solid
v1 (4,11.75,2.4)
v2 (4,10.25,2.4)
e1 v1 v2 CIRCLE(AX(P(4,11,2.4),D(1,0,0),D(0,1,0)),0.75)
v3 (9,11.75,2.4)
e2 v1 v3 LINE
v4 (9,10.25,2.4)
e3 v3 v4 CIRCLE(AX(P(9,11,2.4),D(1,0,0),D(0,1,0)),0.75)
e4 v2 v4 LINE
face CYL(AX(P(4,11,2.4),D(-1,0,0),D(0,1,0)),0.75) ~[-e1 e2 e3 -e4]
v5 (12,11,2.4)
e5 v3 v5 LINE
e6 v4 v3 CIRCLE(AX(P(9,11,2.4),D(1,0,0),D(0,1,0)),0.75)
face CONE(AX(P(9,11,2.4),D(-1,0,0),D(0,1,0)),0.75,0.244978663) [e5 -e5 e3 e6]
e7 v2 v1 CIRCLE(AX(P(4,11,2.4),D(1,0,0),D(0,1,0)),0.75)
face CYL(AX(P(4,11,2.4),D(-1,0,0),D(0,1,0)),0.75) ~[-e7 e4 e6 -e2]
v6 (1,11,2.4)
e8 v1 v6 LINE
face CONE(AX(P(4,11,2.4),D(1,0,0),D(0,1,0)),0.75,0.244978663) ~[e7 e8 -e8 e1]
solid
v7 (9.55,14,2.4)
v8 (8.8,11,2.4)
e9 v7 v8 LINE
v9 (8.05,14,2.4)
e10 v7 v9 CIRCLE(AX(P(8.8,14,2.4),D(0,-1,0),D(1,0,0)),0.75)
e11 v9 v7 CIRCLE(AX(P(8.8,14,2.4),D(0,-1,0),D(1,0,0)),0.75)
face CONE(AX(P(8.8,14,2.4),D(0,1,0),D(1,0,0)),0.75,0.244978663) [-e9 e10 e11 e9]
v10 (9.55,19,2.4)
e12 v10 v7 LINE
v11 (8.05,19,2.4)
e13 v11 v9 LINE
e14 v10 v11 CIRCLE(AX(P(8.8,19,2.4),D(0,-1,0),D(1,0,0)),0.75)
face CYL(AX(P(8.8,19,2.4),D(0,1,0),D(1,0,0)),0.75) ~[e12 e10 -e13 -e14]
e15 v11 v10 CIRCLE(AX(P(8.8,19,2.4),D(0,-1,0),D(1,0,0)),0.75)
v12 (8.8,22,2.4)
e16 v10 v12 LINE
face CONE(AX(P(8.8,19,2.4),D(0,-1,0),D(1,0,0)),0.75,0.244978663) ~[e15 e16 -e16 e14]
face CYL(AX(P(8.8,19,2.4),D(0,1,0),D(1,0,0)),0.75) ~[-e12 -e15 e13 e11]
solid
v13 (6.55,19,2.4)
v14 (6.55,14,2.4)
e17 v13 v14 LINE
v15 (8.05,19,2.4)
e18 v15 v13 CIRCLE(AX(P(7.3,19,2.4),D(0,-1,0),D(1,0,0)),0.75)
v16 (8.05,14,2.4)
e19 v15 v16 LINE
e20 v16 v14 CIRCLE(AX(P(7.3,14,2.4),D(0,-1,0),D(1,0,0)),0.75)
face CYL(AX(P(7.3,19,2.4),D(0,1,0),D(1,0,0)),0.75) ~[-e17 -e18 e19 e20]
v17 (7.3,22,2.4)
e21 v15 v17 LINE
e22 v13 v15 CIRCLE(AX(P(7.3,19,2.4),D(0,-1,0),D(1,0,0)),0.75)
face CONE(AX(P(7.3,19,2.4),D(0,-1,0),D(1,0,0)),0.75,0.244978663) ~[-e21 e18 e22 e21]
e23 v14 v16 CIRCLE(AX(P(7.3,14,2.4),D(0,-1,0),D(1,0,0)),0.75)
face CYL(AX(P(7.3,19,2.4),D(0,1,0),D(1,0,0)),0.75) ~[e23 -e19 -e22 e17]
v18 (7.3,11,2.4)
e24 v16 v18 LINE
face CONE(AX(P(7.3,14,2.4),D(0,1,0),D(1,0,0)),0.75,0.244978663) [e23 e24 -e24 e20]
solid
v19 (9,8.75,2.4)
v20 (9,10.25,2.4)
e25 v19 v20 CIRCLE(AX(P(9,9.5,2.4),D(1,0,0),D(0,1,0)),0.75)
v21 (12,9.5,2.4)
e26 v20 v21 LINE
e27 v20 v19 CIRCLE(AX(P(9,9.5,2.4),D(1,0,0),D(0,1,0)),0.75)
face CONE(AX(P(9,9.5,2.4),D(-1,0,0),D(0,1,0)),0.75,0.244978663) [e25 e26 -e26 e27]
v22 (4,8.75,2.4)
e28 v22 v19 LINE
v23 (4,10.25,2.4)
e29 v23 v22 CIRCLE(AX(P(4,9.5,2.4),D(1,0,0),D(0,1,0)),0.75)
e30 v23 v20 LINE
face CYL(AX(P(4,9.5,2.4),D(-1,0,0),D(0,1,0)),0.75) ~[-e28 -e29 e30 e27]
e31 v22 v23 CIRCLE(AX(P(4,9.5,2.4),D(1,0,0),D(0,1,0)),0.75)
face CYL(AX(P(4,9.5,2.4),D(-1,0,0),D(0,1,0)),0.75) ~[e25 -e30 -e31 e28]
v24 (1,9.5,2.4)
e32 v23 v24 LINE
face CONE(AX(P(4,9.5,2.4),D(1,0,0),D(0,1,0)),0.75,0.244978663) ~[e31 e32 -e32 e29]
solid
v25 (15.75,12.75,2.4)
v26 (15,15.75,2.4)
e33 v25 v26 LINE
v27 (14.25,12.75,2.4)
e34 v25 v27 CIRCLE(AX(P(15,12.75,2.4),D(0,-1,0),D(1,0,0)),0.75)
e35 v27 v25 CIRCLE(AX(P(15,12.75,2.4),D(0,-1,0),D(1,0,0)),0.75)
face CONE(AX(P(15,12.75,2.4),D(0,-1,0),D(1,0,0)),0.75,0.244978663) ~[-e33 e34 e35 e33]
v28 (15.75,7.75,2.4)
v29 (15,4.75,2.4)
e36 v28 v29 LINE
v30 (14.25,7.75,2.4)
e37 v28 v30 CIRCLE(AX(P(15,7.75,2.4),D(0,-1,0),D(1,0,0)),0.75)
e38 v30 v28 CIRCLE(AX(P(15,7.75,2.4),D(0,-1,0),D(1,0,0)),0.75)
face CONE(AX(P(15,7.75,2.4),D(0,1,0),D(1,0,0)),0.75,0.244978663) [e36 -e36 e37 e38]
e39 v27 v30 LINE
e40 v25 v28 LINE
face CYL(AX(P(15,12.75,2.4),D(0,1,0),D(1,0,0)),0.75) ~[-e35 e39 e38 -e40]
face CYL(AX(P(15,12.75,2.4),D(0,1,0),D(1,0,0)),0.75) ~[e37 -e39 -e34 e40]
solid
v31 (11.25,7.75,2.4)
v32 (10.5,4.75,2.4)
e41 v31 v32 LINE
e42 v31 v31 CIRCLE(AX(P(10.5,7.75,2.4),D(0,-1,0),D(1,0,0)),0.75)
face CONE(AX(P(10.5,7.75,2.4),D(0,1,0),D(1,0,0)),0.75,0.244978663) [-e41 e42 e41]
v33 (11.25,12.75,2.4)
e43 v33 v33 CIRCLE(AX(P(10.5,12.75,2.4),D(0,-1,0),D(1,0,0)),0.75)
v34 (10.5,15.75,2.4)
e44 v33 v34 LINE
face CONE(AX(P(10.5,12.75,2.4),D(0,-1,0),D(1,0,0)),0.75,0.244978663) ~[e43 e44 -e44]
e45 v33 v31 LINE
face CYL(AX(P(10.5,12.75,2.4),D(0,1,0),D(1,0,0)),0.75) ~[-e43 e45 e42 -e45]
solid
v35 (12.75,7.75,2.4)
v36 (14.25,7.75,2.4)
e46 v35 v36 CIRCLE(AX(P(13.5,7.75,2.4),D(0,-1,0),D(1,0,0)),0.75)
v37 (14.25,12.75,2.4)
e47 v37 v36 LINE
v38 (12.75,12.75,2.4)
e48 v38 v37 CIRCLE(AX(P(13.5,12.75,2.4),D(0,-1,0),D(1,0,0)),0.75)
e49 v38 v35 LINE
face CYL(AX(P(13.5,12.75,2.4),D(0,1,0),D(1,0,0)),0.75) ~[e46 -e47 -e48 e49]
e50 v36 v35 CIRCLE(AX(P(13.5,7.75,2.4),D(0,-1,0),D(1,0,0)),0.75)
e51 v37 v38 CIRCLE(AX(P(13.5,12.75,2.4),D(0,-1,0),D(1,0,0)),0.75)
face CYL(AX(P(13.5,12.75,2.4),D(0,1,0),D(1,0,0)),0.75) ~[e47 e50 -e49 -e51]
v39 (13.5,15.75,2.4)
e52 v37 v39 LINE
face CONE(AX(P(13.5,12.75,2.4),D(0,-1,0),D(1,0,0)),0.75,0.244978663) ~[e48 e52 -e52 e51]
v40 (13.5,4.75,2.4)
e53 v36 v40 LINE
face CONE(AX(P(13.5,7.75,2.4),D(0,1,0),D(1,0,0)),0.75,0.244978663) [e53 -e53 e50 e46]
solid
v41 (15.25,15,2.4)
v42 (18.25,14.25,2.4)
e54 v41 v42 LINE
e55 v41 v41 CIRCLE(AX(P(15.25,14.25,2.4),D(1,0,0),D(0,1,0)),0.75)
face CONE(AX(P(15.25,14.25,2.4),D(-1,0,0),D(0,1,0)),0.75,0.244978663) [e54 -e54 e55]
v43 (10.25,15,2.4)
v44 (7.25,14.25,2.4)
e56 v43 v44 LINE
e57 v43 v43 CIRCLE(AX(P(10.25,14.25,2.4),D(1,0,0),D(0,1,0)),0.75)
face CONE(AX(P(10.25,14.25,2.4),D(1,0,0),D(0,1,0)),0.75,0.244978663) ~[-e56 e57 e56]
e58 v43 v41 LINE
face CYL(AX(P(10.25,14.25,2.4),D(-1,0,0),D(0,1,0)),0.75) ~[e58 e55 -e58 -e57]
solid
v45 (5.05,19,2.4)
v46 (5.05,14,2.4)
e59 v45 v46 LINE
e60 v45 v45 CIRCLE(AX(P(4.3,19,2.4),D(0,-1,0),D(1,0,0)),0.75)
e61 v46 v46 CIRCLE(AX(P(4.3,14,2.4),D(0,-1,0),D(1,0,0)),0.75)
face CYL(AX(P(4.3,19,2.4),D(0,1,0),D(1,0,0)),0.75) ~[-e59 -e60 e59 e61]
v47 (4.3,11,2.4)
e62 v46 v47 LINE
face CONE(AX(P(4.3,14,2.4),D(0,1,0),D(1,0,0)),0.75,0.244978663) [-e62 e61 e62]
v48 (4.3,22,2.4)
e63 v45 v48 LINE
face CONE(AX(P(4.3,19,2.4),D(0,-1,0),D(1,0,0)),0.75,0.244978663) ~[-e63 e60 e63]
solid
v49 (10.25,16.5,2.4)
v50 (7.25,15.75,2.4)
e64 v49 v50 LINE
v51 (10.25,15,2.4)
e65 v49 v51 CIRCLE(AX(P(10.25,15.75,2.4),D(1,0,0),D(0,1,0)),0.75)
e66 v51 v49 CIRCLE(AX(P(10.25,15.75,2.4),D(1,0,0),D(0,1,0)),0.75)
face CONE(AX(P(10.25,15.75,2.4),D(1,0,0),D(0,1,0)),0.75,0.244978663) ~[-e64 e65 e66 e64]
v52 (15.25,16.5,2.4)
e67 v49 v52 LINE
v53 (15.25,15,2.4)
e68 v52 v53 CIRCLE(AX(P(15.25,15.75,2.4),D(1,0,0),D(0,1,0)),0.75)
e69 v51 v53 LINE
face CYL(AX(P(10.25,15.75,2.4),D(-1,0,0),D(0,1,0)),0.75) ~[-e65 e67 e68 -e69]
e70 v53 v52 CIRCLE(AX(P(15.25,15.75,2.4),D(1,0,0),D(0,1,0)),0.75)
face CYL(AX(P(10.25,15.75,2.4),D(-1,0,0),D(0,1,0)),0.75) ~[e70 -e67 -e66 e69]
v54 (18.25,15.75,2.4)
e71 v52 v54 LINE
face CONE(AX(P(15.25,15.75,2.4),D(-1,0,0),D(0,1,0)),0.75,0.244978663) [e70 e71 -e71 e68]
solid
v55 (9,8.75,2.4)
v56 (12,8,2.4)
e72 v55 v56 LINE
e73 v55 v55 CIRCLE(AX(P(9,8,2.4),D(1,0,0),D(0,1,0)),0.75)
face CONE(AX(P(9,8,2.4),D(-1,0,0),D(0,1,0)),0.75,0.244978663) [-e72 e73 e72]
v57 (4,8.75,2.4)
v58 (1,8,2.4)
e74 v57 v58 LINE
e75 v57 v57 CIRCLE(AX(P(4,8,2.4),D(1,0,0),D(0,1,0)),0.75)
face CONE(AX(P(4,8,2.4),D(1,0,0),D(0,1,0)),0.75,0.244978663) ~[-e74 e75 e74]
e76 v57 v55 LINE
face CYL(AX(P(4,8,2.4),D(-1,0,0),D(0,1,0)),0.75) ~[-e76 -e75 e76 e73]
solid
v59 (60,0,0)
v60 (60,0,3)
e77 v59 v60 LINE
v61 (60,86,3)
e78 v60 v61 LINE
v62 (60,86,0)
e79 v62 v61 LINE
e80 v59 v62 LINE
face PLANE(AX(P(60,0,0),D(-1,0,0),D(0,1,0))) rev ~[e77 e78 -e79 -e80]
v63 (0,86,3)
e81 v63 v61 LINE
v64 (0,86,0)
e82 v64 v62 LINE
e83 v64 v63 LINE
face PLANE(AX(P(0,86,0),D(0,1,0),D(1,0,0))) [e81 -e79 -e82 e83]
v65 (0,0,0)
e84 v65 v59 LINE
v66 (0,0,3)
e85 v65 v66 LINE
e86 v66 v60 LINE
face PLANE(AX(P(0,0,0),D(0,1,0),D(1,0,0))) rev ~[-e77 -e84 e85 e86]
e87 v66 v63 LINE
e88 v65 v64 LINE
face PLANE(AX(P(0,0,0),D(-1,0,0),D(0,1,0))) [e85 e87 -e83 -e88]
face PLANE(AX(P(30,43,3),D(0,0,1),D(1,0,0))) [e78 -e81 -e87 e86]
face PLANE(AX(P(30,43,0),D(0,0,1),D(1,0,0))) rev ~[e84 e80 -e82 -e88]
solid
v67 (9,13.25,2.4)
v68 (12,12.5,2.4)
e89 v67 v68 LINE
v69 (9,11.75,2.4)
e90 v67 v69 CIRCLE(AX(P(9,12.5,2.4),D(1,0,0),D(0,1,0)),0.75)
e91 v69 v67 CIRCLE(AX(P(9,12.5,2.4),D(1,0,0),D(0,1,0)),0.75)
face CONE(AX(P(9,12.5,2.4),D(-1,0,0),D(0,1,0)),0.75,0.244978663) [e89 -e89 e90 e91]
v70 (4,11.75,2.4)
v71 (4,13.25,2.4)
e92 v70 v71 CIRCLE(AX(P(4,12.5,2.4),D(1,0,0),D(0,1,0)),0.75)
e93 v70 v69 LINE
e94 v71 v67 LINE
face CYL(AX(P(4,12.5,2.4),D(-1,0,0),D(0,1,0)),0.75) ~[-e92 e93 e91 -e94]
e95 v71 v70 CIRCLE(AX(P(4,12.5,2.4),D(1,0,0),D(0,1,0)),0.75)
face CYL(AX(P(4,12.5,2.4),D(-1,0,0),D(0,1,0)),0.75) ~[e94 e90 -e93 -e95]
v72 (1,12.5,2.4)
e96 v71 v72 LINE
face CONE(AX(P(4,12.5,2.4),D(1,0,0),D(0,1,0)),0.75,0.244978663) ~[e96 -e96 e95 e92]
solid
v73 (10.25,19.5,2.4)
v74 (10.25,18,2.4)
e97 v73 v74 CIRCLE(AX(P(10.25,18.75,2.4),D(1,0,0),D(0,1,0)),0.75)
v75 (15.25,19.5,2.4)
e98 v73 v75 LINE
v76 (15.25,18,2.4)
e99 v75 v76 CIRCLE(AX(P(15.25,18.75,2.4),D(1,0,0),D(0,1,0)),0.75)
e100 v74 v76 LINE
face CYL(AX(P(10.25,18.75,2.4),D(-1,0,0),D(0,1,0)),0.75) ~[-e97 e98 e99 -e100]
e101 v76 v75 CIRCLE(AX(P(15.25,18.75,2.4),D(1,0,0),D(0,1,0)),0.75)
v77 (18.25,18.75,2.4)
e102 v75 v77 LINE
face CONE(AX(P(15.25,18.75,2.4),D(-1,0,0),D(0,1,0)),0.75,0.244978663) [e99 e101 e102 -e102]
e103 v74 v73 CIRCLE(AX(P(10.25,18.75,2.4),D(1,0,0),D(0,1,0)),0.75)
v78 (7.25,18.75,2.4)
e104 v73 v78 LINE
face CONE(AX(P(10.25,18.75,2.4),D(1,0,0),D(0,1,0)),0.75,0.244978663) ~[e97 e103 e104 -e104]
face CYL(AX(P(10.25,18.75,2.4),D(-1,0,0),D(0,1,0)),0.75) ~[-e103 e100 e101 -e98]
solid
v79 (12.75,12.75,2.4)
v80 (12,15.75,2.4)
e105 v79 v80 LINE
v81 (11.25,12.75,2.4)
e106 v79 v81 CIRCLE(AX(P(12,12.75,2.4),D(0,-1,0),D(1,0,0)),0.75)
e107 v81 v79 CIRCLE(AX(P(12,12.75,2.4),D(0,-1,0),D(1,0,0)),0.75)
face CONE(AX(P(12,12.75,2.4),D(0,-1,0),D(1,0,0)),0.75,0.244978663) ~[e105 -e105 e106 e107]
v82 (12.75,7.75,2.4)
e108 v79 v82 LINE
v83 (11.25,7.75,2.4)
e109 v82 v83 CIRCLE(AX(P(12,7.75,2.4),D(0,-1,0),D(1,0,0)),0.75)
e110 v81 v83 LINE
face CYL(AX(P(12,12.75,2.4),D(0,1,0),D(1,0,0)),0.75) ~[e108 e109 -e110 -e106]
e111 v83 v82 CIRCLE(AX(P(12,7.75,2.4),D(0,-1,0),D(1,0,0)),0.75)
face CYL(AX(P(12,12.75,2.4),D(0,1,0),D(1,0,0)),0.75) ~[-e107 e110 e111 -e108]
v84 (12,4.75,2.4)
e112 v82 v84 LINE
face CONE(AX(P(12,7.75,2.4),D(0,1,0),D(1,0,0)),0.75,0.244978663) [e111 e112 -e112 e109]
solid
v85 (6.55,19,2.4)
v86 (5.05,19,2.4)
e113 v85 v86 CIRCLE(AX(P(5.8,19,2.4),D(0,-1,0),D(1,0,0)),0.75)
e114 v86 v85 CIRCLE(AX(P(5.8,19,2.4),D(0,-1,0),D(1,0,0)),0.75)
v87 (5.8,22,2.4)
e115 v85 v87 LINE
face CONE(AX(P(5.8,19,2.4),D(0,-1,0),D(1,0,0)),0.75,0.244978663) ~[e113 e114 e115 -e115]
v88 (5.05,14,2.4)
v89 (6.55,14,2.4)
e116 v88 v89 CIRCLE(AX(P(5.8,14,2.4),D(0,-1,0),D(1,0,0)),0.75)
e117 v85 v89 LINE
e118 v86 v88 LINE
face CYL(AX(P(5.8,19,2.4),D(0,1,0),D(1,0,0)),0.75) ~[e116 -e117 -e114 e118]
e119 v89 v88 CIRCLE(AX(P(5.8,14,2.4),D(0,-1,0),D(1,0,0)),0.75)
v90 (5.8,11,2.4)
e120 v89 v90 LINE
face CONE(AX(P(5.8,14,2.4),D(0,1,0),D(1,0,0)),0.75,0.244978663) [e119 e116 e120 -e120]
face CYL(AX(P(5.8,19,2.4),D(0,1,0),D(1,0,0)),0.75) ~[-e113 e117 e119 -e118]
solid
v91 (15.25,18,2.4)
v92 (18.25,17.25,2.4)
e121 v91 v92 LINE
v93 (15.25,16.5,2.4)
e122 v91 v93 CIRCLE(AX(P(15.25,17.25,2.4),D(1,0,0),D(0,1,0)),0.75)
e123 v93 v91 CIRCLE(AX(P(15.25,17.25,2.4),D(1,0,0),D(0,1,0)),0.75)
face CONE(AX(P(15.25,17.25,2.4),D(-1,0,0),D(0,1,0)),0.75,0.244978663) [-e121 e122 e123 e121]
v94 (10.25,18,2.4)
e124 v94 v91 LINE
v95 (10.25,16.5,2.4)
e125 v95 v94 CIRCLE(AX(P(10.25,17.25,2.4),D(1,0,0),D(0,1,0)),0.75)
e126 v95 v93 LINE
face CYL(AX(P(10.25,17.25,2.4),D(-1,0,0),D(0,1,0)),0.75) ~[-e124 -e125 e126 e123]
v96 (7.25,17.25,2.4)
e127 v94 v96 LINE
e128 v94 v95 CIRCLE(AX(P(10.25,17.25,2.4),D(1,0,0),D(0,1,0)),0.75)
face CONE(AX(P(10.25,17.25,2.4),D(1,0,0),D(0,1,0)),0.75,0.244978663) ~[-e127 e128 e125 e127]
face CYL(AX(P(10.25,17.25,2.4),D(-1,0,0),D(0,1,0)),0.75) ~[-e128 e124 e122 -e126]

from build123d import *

# Parameters (mm, degrees)
BOX_W                     = 60
BOX_H                     = 86
BOX_DEPTH                 = 3
CYLINDER001_R             = 0.75
CYLINDER001_DEPTH         = 5
FUSION001_ROLL_ANGLE      = 90
CYLINDER002_R             = 0.75
CYLINDER002_DEPTH         = 5
FUSION002_ROLL_ANGLE      = 90
CYLINDER003_R             = 0.75
CYLINDER003_DEPTH         = 5
FUSION003_ROLL_ANGLE      = 90
CYLINDER_R                = 0.75
CYLINDER_DEPTH            = 5
FUSION_ROLL_ANGLE         = 90
FUSION007_ROLL_ANGLE      = 90
FUSION008_ROLL_ANGLE      = 90
FUSION006_ROLL_ANGLE      = 90
FUSION009_ROLL_ANGLE      = 90
FUSION012_ROLL_ANGLE      = 90
FUSION013_ROLL_ANGLE      = 90
FUSION011_ROLL_ANGLE      = 90
FUSION014_ROLL_ANGLE      = 90
FUSION010_PLACEMENT_ANGLE = 90
FUSION018_ROLL_ANGLE      = 90
FUSION017_ROLL_ANGLE      = 90
FUSION016_ROLL_ANGLE      = 90
FUSION019_ROLL_ANGLE      = 90
FUSION015_PLACEMENT_ANGLE = 90


with BuildPart() as box:
    # Box → Box (new body)
    with BuildSketch(Plane.XY):
        with Locations((30, 43)):
            Rectangle(BOX_W, BOX_H)
    extrude(amount=BOX_DEPTH)


with BuildPart() as cone:
    # Cone → Cone (revolve)
    with BuildSketch(Plane(origin=(0, 0, 4), x_dir=(1, 0, 0), z_dir=(0, -1, 0))):
        Polygon((0, 0), (0.75, 0), (0, 3), align=None)
    revolve(axis=Axis((0, 0, 4), (0, 0, 1)))


with BuildPart() as part_mirroring001:
    # Part__Mirroring001: instance of Cone
    add(cone.part.mirror(Plane(origin=(0, 0, 0), x_dir=(0, 1, 0), z_dir=(0, 0, 1))))


with BuildPart() as part_mirroring001_1:
    # Part__Mirroring001 placement: moved
    add(part_mirroring001.part.moved(Location((0, 0, 4))))


with BuildPart() as cone002:
    # Cone002 → Cone002 (revolve)
    with BuildSketch(Plane(origin=(0, 0, 5), x_dir=(1, 0, 0), z_dir=(0, -1, 0))):
        Polygon((0, 0), (0.75, 0), (0, 3), align=None)
    revolve(axis=Axis((0, 0, 5), (0, 0, 1)))


with BuildPart() as cylinder001:
    # Cylinder001 → Cylinder001 (new body)
    with BuildSketch(Plane.XY):
        Circle(CYLINDER001_R)
    extrude(amount=CYLINDER001_DEPTH)


with BuildPart() as fusion001:
    # Fusion001 base: copy of Cylinder001
    add(cylinder001.part)

    # Fusion001: union Part__Mirroring001, Cone002
    add(part_mirroring001_1.part)
    add(cone002.part)


with BuildPart() as fusion001_1:
    # Fusion001 roll: moved
    add(fusion001.part.rotate(Axis((0, 0, 0), (1, 0, 0)), FUSION001_ROLL_ANGLE))


with BuildPart() as fusion001_2:
    # Fusion001 placement: moved
    add(fusion001_1.part.moved(Location((10.5, 16, 2.4))))


with BuildPart() as part_mirroring002:
    # Part__Mirroring002: instance of Cone
    add(cone.part.mirror(Plane(origin=(0, 0, 0), x_dir=(0, 1, 0), z_dir=(0, 0, 1))))


with BuildPart() as part_mirroring002_1:
    # Part__Mirroring002 placement: moved
    add(part_mirroring002.part.moved(Location((0, 0, 4))))


with BuildPart() as cone003:
    # Cone003 → Cone003 (revolve)
    with BuildSketch(Plane(origin=(0, 0, 5), x_dir=(1, 0, 0), z_dir=(0, -1, 0))):
        Polygon((0, 0), (0.75, 0), (0, 3), align=None)
    revolve(axis=Axis((0, 0, 5), (0, 0, 1)))


with BuildPart() as cylinder002:
    # Cylinder002 → Cylinder002 (new body)
    with BuildSketch(Plane.XY):
        Circle(CYLINDER002_R)
    extrude(amount=CYLINDER002_DEPTH)


with BuildPart() as fusion002:
    # Fusion002 base: copy of Cylinder002
    add(cylinder002.part)

    # Fusion002: union Part__Mirroring002, Cone003
    add(part_mirroring002_1.part)
    add(cone003.part)


with BuildPart() as fusion002_1:
    # Fusion002 roll: moved
    add(fusion002.part.rotate(Axis((0, 0, 0), (1, 0, 0)), FUSION002_ROLL_ANGLE))


with BuildPart() as fusion002_2:
    # Fusion002 placement: moved
    add(fusion002_1.part.moved(Location((12, 16, 2.4))))


with BuildPart() as part_mirroring003:
    # Part__Mirroring003: instance of Cone
    add(cone.part.mirror(Plane(origin=(0, 0, 0), x_dir=(0, 1, 0), z_dir=(0, 0, 1))))


with BuildPart() as part_mirroring003_1:
    # Part__Mirroring003 placement: moved
    add(part_mirroring003.part.moved(Location((0, 0, 4))))


with BuildPart() as cone004:
    # Cone004 → Cone004 (revolve)
    with BuildSketch(Plane(origin=(0, 0, 5), x_dir=(1, 0, 0), z_dir=(0, -1, 0))):
        Polygon((0, 0), (0.75, 0), (0, 3), align=None)
    revolve(axis=Axis((0, 0, 5), (0, 0, 1)))


with BuildPart() as cylinder003:
    # Cylinder003 → Cylinder003 (new body)
    with BuildSketch(Plane.XY):
        Circle(CYLINDER003_R)
    extrude(amount=CYLINDER003_DEPTH)


with BuildPart() as fusion003:
    # Fusion003 base: copy of Cylinder003
    add(cylinder003.part)

    # Fusion003: union Part__Mirroring003, Cone004
    add(part_mirroring003_1.part)
    add(cone004.part)


with BuildPart() as fusion003_1:
    # Fusion003 roll: moved
    add(fusion003.part.rotate(Axis((0, 0, 0), (1, 0, 0)), FUSION003_ROLL_ANGLE))


with BuildPart() as fusion003_2:
    # Fusion003 placement: moved
    add(fusion003_1.part.moved(Location((13.5, 16, 2.4))))


with BuildPart() as part_mirroring:
    # Part__Mirroring: instance of Cone
    add(cone.part.mirror(Plane(origin=(0, 0, 0), x_dir=(0, 1, 0), z_dir=(0, 0, 1))))


with BuildPart() as part_mirroring_1:
    # Part__Mirroring placement: moved
    add(part_mirroring.part.moved(Location((0, 0, 4))))


with BuildPart() as cone001:
    # Cone001 → Cone001 (revolve)
    with BuildSketch(Plane(origin=(0, 0, 5), x_dir=(1, 0, 0), z_dir=(0, -1, 0))):
        Polygon((0, 0), (0.75, 0), (0, 3), align=None)
    revolve(axis=Axis((0, 0, 5), (0, 0, 1)))


with BuildPart() as cylinder:
    # Cylinder → Cylinder (new body)
    with BuildSketch(Plane.XY):
        Circle(CYLINDER_R)
    extrude(amount=CYLINDER_DEPTH)


with BuildPart() as fusion004:
    # Fusion base: copy of Cylinder
    add(cylinder.part)

    # Fusion: union Part__Mirroring, Cone001
    add(part_mirroring_1.part)
    add(cone001.part)


with BuildPart() as fusion004_1:
    # Fusion roll: moved
    add(fusion004.part.rotate(Axis((0, 0, 0), (1, 0, 0)), FUSION_ROLL_ANGLE))


with BuildPart() as fusion004_2:
    # Fusion placement: moved
    add(fusion004_1.part.moved(Location((9, 16, 2.4))))

    # Fusion004: union Fusion001, Fusion002, Fusion003
    add(fusion001_2.part)
    add(fusion002_2.part)
    add(fusion003_2.part)


with BuildPart() as fusion004_3:
    # Fusion004 placement: moved
    add(fusion004_2.part.moved(Location((1.5, -3.25, 0))))


with BuildPart() as fusion007:
    # Fusion007 base: copy of Cylinder001
    add(cylinder001.part)

    # Fusion007: union Part__Mirroring001, Cone002
    add(part_mirroring001_1.part)
    add(cone002.part)


with BuildPart() as fusion007_1:
    # Fusion007 roll: moved
    add(fusion007.part.rotate(Axis((0, 0, 0), (1, 0, 0)), FUSION007_ROLL_ANGLE))


with BuildPart() as fusion007_2:
    # Fusion007 placement: moved
    add(fusion007_1.part.moved(Location((10.5, 16, 2.4))))


with BuildPart() as fusion008:
    # Fusion008 base: copy of Cylinder002
    add(cylinder002.part)

    # Fusion008: union Part__Mirroring002, Cone003
    add(part_mirroring002_1.part)
    add(cone003.part)


with BuildPart() as fusion008_1:
    # Fusion008 roll: moved
    add(fusion008.part.rotate(Axis((0, 0, 0), (1, 0, 0)), FUSION008_ROLL_ANGLE))


with BuildPart() as fusion008_2:
    # Fusion008 placement: moved
    add(fusion008_1.part.moved(Location((12, 16, 2.4))))


with BuildPart() as fusion006:
    # Fusion006 base: copy of Cylinder003
    add(cylinder003.part)

    # Fusion006: union Part__Mirroring003, Cone004
    add(part_mirroring003_1.part)
    add(cone004.part)


with BuildPart() as fusion006_1:
    # Fusion006 roll: moved
    add(fusion006.part.rotate(Axis((0, 0, 0), (1, 0, 0)), FUSION006_ROLL_ANGLE))


with BuildPart() as fusion006_2:
    # Fusion006 placement: moved
    add(fusion006_1.part.moved(Location((13.5, 16, 2.4))))


with BuildPart() as fusion005:
    # Fusion009 base: copy of Cylinder
    add(cylinder.part)

    # Fusion009: union Part__Mirroring, Cone001
    add(part_mirroring_1.part)
    add(cone001.part)


with BuildPart() as fusion005_1:
    # Fusion009 roll: moved
    add(fusion005.part.rotate(Axis((0, 0, 0), (1, 0, 0)), FUSION009_ROLL_ANGLE))


with BuildPart() as fusion005_2:
    # Fusion009 placement: moved
    add(fusion005_1.part.moved(Location((9, 16, 2.4))))

    # Fusion005: union Fusion007, Fusion008, Fusion006
    add(fusion007_2.part)
    add(fusion008_2.part)
    add(fusion006_2.part)


with BuildPart() as fusion005_3:
    # Fusion005 placement: moved
    add(fusion005_2.part.moved(Location((-4.7, 3, 0))))


with BuildPart() as fusion012:
    # Fusion012 base: copy of Cylinder001
    add(cylinder001.part)

    # Fusion012: union Part__Mirroring001, Cone002
    add(part_mirroring001_1.part)
    add(cone002.part)


with BuildPart() as fusion012_1:
    # Fusion012 roll: moved
    add(fusion012.part.rotate(Axis((0, 0, 0), (1, 0, 0)), FUSION012_ROLL_ANGLE))


with BuildPart() as fusion012_2:
    # Fusion012 placement: moved
    add(fusion012_1.part.moved(Location((10.5, 16, 2.4))))


with BuildPart() as fusion013:
    # Fusion013 base: copy of Cylinder002
    add(cylinder002.part)

    # Fusion013: union Part__Mirroring002, Cone003
    add(part_mirroring002_1.part)
    add(cone003.part)


with BuildPart() as fusion013_1:
    # Fusion013 roll: moved
    add(fusion013.part.rotate(Axis((0, 0, 0), (1, 0, 0)), FUSION013_ROLL_ANGLE))


with BuildPart() as fusion013_2:
    # Fusion013 placement: moved
    add(fusion013_1.part.moved(Location((12, 16, 2.4))))


with BuildPart() as fusion011:
    # Fusion011 base: copy of Cylinder003
    add(cylinder003.part)

    # Fusion011: union Part__Mirroring003, Cone004
    add(part_mirroring003_1.part)
    add(cone004.part)


with BuildPart() as fusion011_1:
    # Fusion011 roll: moved
    add(fusion011.part.rotate(Axis((0, 0, 0), (1, 0, 0)), FUSION011_ROLL_ANGLE))


with BuildPart() as fusion011_2:
    # Fusion011 placement: moved
    add(fusion011_1.part.moved(Location((13.5, 16, 2.4))))


with BuildPart() as fusion010:
    # Fusion014 base: copy of Cylinder
    add(cylinder.part)

    # Fusion014: union Part__Mirroring, Cone001
    add(part_mirroring_1.part)
    add(cone001.part)


with BuildPart() as fusion010_1:
    # Fusion014 roll: moved
    add(fusion010.part.rotate(Axis((0, 0, 0), (1, 0, 0)), FUSION014_ROLL_ANGLE))


with BuildPart() as fusion010_2:
    # Fusion014 placement: moved
    add(fusion010_1.part.moved(Location((9, 16, 2.4))))

    # Fusion010: union Fusion012, Fusion013, Fusion011
    add(fusion012_2.part)
    add(fusion013_2.part)
    add(fusion011_2.part)


with BuildPart() as fusion010_3:
    # Fusion010 placement: moved
    add(fusion010_2.part.moved(Location((20, -1, 0))).rotate(Axis((20, -1, 0), (0, 0, 1)), FUSION010_PLACEMENT_ANGLE))


with BuildPart() as fusion018:
    # Fusion018 base: copy of Cylinder001
    add(cylinder001.part)

    # Fusion018: union Part__Mirroring001, Cone002
    add(part_mirroring001_1.part)
    add(cone002.part)


with BuildPart() as fusion018_1:
    # Fusion018 roll: moved
    add(fusion018.part.rotate(Axis((0, 0, 0), (1, 0, 0)), FUSION018_ROLL_ANGLE))


with BuildPart() as fusion018_2:
    # Fusion018 placement: moved
    add(fusion018_1.part.moved(Location((10.5, 16, 2.4))))


with BuildPart() as fusion017:
    # Fusion017 base: copy of Cylinder002
    add(cylinder002.part)

    # Fusion017: union Part__Mirroring002, Cone003
    add(part_mirroring002_1.part)
    add(cone003.part)


with BuildPart() as fusion017_1:
    # Fusion017 roll: moved
    add(fusion017.part.rotate(Axis((0, 0, 0), (1, 0, 0)), FUSION017_ROLL_ANGLE))


with BuildPart() as fusion017_2:
    # Fusion017 placement: moved
    add(fusion017_1.part.moved(Location((12, 16, 2.4))))


with BuildPart() as fusion016:
    # Fusion016 base: copy of Cylinder003
    add(cylinder003.part)

    # Fusion016: union Part__Mirroring003, Cone004
    add(part_mirroring003_1.part)
    add(cone004.part)


with BuildPart() as fusion016_1:
    # Fusion016 roll: moved
    add(fusion016.part.rotate(Axis((0, 0, 0), (1, 0, 0)), FUSION016_ROLL_ANGLE))


with BuildPart() as fusion016_2:
    # Fusion016 placement: moved
    add(fusion016_1.part.moved(Location((13.5, 16, 2.4))))


with BuildPart() as fusion015:
    # Fusion019 base: copy of Cylinder
    add(cylinder.part)

    # Fusion019: union Part__Mirroring, Cone001
    add(part_mirroring_1.part)
    add(cone001.part)


with BuildPart() as fusion015_1:
    # Fusion019 roll: moved
    add(fusion015.part.rotate(Axis((0, 0, 0), (1, 0, 0)), FUSION019_ROLL_ANGLE))


with BuildPart() as fusion015_2:
    # Fusion019 placement: moved
    add(fusion015_1.part.moved(Location((9, 16, 2.4))))

    # Fusion015: union Fusion018, Fusion017, Fusion016
    add(fusion018_2.part)
    add(fusion017_2.part)
    add(fusion016_2.part)


with BuildPart() as fusion015_3:
    # Fusion015 placement: moved
    add(fusion015_2.part.moved(Location((26.25, 5.25, 0))).rotate(Axis((26.25, 5.25, 0), (0, 0, 1)), FUSION015_PLACEMENT_ANGLE))


solid = Compound([box.part, fusion004_3.part, fusion005_3.part, fusion010_3.part, fusion015_3.part])
